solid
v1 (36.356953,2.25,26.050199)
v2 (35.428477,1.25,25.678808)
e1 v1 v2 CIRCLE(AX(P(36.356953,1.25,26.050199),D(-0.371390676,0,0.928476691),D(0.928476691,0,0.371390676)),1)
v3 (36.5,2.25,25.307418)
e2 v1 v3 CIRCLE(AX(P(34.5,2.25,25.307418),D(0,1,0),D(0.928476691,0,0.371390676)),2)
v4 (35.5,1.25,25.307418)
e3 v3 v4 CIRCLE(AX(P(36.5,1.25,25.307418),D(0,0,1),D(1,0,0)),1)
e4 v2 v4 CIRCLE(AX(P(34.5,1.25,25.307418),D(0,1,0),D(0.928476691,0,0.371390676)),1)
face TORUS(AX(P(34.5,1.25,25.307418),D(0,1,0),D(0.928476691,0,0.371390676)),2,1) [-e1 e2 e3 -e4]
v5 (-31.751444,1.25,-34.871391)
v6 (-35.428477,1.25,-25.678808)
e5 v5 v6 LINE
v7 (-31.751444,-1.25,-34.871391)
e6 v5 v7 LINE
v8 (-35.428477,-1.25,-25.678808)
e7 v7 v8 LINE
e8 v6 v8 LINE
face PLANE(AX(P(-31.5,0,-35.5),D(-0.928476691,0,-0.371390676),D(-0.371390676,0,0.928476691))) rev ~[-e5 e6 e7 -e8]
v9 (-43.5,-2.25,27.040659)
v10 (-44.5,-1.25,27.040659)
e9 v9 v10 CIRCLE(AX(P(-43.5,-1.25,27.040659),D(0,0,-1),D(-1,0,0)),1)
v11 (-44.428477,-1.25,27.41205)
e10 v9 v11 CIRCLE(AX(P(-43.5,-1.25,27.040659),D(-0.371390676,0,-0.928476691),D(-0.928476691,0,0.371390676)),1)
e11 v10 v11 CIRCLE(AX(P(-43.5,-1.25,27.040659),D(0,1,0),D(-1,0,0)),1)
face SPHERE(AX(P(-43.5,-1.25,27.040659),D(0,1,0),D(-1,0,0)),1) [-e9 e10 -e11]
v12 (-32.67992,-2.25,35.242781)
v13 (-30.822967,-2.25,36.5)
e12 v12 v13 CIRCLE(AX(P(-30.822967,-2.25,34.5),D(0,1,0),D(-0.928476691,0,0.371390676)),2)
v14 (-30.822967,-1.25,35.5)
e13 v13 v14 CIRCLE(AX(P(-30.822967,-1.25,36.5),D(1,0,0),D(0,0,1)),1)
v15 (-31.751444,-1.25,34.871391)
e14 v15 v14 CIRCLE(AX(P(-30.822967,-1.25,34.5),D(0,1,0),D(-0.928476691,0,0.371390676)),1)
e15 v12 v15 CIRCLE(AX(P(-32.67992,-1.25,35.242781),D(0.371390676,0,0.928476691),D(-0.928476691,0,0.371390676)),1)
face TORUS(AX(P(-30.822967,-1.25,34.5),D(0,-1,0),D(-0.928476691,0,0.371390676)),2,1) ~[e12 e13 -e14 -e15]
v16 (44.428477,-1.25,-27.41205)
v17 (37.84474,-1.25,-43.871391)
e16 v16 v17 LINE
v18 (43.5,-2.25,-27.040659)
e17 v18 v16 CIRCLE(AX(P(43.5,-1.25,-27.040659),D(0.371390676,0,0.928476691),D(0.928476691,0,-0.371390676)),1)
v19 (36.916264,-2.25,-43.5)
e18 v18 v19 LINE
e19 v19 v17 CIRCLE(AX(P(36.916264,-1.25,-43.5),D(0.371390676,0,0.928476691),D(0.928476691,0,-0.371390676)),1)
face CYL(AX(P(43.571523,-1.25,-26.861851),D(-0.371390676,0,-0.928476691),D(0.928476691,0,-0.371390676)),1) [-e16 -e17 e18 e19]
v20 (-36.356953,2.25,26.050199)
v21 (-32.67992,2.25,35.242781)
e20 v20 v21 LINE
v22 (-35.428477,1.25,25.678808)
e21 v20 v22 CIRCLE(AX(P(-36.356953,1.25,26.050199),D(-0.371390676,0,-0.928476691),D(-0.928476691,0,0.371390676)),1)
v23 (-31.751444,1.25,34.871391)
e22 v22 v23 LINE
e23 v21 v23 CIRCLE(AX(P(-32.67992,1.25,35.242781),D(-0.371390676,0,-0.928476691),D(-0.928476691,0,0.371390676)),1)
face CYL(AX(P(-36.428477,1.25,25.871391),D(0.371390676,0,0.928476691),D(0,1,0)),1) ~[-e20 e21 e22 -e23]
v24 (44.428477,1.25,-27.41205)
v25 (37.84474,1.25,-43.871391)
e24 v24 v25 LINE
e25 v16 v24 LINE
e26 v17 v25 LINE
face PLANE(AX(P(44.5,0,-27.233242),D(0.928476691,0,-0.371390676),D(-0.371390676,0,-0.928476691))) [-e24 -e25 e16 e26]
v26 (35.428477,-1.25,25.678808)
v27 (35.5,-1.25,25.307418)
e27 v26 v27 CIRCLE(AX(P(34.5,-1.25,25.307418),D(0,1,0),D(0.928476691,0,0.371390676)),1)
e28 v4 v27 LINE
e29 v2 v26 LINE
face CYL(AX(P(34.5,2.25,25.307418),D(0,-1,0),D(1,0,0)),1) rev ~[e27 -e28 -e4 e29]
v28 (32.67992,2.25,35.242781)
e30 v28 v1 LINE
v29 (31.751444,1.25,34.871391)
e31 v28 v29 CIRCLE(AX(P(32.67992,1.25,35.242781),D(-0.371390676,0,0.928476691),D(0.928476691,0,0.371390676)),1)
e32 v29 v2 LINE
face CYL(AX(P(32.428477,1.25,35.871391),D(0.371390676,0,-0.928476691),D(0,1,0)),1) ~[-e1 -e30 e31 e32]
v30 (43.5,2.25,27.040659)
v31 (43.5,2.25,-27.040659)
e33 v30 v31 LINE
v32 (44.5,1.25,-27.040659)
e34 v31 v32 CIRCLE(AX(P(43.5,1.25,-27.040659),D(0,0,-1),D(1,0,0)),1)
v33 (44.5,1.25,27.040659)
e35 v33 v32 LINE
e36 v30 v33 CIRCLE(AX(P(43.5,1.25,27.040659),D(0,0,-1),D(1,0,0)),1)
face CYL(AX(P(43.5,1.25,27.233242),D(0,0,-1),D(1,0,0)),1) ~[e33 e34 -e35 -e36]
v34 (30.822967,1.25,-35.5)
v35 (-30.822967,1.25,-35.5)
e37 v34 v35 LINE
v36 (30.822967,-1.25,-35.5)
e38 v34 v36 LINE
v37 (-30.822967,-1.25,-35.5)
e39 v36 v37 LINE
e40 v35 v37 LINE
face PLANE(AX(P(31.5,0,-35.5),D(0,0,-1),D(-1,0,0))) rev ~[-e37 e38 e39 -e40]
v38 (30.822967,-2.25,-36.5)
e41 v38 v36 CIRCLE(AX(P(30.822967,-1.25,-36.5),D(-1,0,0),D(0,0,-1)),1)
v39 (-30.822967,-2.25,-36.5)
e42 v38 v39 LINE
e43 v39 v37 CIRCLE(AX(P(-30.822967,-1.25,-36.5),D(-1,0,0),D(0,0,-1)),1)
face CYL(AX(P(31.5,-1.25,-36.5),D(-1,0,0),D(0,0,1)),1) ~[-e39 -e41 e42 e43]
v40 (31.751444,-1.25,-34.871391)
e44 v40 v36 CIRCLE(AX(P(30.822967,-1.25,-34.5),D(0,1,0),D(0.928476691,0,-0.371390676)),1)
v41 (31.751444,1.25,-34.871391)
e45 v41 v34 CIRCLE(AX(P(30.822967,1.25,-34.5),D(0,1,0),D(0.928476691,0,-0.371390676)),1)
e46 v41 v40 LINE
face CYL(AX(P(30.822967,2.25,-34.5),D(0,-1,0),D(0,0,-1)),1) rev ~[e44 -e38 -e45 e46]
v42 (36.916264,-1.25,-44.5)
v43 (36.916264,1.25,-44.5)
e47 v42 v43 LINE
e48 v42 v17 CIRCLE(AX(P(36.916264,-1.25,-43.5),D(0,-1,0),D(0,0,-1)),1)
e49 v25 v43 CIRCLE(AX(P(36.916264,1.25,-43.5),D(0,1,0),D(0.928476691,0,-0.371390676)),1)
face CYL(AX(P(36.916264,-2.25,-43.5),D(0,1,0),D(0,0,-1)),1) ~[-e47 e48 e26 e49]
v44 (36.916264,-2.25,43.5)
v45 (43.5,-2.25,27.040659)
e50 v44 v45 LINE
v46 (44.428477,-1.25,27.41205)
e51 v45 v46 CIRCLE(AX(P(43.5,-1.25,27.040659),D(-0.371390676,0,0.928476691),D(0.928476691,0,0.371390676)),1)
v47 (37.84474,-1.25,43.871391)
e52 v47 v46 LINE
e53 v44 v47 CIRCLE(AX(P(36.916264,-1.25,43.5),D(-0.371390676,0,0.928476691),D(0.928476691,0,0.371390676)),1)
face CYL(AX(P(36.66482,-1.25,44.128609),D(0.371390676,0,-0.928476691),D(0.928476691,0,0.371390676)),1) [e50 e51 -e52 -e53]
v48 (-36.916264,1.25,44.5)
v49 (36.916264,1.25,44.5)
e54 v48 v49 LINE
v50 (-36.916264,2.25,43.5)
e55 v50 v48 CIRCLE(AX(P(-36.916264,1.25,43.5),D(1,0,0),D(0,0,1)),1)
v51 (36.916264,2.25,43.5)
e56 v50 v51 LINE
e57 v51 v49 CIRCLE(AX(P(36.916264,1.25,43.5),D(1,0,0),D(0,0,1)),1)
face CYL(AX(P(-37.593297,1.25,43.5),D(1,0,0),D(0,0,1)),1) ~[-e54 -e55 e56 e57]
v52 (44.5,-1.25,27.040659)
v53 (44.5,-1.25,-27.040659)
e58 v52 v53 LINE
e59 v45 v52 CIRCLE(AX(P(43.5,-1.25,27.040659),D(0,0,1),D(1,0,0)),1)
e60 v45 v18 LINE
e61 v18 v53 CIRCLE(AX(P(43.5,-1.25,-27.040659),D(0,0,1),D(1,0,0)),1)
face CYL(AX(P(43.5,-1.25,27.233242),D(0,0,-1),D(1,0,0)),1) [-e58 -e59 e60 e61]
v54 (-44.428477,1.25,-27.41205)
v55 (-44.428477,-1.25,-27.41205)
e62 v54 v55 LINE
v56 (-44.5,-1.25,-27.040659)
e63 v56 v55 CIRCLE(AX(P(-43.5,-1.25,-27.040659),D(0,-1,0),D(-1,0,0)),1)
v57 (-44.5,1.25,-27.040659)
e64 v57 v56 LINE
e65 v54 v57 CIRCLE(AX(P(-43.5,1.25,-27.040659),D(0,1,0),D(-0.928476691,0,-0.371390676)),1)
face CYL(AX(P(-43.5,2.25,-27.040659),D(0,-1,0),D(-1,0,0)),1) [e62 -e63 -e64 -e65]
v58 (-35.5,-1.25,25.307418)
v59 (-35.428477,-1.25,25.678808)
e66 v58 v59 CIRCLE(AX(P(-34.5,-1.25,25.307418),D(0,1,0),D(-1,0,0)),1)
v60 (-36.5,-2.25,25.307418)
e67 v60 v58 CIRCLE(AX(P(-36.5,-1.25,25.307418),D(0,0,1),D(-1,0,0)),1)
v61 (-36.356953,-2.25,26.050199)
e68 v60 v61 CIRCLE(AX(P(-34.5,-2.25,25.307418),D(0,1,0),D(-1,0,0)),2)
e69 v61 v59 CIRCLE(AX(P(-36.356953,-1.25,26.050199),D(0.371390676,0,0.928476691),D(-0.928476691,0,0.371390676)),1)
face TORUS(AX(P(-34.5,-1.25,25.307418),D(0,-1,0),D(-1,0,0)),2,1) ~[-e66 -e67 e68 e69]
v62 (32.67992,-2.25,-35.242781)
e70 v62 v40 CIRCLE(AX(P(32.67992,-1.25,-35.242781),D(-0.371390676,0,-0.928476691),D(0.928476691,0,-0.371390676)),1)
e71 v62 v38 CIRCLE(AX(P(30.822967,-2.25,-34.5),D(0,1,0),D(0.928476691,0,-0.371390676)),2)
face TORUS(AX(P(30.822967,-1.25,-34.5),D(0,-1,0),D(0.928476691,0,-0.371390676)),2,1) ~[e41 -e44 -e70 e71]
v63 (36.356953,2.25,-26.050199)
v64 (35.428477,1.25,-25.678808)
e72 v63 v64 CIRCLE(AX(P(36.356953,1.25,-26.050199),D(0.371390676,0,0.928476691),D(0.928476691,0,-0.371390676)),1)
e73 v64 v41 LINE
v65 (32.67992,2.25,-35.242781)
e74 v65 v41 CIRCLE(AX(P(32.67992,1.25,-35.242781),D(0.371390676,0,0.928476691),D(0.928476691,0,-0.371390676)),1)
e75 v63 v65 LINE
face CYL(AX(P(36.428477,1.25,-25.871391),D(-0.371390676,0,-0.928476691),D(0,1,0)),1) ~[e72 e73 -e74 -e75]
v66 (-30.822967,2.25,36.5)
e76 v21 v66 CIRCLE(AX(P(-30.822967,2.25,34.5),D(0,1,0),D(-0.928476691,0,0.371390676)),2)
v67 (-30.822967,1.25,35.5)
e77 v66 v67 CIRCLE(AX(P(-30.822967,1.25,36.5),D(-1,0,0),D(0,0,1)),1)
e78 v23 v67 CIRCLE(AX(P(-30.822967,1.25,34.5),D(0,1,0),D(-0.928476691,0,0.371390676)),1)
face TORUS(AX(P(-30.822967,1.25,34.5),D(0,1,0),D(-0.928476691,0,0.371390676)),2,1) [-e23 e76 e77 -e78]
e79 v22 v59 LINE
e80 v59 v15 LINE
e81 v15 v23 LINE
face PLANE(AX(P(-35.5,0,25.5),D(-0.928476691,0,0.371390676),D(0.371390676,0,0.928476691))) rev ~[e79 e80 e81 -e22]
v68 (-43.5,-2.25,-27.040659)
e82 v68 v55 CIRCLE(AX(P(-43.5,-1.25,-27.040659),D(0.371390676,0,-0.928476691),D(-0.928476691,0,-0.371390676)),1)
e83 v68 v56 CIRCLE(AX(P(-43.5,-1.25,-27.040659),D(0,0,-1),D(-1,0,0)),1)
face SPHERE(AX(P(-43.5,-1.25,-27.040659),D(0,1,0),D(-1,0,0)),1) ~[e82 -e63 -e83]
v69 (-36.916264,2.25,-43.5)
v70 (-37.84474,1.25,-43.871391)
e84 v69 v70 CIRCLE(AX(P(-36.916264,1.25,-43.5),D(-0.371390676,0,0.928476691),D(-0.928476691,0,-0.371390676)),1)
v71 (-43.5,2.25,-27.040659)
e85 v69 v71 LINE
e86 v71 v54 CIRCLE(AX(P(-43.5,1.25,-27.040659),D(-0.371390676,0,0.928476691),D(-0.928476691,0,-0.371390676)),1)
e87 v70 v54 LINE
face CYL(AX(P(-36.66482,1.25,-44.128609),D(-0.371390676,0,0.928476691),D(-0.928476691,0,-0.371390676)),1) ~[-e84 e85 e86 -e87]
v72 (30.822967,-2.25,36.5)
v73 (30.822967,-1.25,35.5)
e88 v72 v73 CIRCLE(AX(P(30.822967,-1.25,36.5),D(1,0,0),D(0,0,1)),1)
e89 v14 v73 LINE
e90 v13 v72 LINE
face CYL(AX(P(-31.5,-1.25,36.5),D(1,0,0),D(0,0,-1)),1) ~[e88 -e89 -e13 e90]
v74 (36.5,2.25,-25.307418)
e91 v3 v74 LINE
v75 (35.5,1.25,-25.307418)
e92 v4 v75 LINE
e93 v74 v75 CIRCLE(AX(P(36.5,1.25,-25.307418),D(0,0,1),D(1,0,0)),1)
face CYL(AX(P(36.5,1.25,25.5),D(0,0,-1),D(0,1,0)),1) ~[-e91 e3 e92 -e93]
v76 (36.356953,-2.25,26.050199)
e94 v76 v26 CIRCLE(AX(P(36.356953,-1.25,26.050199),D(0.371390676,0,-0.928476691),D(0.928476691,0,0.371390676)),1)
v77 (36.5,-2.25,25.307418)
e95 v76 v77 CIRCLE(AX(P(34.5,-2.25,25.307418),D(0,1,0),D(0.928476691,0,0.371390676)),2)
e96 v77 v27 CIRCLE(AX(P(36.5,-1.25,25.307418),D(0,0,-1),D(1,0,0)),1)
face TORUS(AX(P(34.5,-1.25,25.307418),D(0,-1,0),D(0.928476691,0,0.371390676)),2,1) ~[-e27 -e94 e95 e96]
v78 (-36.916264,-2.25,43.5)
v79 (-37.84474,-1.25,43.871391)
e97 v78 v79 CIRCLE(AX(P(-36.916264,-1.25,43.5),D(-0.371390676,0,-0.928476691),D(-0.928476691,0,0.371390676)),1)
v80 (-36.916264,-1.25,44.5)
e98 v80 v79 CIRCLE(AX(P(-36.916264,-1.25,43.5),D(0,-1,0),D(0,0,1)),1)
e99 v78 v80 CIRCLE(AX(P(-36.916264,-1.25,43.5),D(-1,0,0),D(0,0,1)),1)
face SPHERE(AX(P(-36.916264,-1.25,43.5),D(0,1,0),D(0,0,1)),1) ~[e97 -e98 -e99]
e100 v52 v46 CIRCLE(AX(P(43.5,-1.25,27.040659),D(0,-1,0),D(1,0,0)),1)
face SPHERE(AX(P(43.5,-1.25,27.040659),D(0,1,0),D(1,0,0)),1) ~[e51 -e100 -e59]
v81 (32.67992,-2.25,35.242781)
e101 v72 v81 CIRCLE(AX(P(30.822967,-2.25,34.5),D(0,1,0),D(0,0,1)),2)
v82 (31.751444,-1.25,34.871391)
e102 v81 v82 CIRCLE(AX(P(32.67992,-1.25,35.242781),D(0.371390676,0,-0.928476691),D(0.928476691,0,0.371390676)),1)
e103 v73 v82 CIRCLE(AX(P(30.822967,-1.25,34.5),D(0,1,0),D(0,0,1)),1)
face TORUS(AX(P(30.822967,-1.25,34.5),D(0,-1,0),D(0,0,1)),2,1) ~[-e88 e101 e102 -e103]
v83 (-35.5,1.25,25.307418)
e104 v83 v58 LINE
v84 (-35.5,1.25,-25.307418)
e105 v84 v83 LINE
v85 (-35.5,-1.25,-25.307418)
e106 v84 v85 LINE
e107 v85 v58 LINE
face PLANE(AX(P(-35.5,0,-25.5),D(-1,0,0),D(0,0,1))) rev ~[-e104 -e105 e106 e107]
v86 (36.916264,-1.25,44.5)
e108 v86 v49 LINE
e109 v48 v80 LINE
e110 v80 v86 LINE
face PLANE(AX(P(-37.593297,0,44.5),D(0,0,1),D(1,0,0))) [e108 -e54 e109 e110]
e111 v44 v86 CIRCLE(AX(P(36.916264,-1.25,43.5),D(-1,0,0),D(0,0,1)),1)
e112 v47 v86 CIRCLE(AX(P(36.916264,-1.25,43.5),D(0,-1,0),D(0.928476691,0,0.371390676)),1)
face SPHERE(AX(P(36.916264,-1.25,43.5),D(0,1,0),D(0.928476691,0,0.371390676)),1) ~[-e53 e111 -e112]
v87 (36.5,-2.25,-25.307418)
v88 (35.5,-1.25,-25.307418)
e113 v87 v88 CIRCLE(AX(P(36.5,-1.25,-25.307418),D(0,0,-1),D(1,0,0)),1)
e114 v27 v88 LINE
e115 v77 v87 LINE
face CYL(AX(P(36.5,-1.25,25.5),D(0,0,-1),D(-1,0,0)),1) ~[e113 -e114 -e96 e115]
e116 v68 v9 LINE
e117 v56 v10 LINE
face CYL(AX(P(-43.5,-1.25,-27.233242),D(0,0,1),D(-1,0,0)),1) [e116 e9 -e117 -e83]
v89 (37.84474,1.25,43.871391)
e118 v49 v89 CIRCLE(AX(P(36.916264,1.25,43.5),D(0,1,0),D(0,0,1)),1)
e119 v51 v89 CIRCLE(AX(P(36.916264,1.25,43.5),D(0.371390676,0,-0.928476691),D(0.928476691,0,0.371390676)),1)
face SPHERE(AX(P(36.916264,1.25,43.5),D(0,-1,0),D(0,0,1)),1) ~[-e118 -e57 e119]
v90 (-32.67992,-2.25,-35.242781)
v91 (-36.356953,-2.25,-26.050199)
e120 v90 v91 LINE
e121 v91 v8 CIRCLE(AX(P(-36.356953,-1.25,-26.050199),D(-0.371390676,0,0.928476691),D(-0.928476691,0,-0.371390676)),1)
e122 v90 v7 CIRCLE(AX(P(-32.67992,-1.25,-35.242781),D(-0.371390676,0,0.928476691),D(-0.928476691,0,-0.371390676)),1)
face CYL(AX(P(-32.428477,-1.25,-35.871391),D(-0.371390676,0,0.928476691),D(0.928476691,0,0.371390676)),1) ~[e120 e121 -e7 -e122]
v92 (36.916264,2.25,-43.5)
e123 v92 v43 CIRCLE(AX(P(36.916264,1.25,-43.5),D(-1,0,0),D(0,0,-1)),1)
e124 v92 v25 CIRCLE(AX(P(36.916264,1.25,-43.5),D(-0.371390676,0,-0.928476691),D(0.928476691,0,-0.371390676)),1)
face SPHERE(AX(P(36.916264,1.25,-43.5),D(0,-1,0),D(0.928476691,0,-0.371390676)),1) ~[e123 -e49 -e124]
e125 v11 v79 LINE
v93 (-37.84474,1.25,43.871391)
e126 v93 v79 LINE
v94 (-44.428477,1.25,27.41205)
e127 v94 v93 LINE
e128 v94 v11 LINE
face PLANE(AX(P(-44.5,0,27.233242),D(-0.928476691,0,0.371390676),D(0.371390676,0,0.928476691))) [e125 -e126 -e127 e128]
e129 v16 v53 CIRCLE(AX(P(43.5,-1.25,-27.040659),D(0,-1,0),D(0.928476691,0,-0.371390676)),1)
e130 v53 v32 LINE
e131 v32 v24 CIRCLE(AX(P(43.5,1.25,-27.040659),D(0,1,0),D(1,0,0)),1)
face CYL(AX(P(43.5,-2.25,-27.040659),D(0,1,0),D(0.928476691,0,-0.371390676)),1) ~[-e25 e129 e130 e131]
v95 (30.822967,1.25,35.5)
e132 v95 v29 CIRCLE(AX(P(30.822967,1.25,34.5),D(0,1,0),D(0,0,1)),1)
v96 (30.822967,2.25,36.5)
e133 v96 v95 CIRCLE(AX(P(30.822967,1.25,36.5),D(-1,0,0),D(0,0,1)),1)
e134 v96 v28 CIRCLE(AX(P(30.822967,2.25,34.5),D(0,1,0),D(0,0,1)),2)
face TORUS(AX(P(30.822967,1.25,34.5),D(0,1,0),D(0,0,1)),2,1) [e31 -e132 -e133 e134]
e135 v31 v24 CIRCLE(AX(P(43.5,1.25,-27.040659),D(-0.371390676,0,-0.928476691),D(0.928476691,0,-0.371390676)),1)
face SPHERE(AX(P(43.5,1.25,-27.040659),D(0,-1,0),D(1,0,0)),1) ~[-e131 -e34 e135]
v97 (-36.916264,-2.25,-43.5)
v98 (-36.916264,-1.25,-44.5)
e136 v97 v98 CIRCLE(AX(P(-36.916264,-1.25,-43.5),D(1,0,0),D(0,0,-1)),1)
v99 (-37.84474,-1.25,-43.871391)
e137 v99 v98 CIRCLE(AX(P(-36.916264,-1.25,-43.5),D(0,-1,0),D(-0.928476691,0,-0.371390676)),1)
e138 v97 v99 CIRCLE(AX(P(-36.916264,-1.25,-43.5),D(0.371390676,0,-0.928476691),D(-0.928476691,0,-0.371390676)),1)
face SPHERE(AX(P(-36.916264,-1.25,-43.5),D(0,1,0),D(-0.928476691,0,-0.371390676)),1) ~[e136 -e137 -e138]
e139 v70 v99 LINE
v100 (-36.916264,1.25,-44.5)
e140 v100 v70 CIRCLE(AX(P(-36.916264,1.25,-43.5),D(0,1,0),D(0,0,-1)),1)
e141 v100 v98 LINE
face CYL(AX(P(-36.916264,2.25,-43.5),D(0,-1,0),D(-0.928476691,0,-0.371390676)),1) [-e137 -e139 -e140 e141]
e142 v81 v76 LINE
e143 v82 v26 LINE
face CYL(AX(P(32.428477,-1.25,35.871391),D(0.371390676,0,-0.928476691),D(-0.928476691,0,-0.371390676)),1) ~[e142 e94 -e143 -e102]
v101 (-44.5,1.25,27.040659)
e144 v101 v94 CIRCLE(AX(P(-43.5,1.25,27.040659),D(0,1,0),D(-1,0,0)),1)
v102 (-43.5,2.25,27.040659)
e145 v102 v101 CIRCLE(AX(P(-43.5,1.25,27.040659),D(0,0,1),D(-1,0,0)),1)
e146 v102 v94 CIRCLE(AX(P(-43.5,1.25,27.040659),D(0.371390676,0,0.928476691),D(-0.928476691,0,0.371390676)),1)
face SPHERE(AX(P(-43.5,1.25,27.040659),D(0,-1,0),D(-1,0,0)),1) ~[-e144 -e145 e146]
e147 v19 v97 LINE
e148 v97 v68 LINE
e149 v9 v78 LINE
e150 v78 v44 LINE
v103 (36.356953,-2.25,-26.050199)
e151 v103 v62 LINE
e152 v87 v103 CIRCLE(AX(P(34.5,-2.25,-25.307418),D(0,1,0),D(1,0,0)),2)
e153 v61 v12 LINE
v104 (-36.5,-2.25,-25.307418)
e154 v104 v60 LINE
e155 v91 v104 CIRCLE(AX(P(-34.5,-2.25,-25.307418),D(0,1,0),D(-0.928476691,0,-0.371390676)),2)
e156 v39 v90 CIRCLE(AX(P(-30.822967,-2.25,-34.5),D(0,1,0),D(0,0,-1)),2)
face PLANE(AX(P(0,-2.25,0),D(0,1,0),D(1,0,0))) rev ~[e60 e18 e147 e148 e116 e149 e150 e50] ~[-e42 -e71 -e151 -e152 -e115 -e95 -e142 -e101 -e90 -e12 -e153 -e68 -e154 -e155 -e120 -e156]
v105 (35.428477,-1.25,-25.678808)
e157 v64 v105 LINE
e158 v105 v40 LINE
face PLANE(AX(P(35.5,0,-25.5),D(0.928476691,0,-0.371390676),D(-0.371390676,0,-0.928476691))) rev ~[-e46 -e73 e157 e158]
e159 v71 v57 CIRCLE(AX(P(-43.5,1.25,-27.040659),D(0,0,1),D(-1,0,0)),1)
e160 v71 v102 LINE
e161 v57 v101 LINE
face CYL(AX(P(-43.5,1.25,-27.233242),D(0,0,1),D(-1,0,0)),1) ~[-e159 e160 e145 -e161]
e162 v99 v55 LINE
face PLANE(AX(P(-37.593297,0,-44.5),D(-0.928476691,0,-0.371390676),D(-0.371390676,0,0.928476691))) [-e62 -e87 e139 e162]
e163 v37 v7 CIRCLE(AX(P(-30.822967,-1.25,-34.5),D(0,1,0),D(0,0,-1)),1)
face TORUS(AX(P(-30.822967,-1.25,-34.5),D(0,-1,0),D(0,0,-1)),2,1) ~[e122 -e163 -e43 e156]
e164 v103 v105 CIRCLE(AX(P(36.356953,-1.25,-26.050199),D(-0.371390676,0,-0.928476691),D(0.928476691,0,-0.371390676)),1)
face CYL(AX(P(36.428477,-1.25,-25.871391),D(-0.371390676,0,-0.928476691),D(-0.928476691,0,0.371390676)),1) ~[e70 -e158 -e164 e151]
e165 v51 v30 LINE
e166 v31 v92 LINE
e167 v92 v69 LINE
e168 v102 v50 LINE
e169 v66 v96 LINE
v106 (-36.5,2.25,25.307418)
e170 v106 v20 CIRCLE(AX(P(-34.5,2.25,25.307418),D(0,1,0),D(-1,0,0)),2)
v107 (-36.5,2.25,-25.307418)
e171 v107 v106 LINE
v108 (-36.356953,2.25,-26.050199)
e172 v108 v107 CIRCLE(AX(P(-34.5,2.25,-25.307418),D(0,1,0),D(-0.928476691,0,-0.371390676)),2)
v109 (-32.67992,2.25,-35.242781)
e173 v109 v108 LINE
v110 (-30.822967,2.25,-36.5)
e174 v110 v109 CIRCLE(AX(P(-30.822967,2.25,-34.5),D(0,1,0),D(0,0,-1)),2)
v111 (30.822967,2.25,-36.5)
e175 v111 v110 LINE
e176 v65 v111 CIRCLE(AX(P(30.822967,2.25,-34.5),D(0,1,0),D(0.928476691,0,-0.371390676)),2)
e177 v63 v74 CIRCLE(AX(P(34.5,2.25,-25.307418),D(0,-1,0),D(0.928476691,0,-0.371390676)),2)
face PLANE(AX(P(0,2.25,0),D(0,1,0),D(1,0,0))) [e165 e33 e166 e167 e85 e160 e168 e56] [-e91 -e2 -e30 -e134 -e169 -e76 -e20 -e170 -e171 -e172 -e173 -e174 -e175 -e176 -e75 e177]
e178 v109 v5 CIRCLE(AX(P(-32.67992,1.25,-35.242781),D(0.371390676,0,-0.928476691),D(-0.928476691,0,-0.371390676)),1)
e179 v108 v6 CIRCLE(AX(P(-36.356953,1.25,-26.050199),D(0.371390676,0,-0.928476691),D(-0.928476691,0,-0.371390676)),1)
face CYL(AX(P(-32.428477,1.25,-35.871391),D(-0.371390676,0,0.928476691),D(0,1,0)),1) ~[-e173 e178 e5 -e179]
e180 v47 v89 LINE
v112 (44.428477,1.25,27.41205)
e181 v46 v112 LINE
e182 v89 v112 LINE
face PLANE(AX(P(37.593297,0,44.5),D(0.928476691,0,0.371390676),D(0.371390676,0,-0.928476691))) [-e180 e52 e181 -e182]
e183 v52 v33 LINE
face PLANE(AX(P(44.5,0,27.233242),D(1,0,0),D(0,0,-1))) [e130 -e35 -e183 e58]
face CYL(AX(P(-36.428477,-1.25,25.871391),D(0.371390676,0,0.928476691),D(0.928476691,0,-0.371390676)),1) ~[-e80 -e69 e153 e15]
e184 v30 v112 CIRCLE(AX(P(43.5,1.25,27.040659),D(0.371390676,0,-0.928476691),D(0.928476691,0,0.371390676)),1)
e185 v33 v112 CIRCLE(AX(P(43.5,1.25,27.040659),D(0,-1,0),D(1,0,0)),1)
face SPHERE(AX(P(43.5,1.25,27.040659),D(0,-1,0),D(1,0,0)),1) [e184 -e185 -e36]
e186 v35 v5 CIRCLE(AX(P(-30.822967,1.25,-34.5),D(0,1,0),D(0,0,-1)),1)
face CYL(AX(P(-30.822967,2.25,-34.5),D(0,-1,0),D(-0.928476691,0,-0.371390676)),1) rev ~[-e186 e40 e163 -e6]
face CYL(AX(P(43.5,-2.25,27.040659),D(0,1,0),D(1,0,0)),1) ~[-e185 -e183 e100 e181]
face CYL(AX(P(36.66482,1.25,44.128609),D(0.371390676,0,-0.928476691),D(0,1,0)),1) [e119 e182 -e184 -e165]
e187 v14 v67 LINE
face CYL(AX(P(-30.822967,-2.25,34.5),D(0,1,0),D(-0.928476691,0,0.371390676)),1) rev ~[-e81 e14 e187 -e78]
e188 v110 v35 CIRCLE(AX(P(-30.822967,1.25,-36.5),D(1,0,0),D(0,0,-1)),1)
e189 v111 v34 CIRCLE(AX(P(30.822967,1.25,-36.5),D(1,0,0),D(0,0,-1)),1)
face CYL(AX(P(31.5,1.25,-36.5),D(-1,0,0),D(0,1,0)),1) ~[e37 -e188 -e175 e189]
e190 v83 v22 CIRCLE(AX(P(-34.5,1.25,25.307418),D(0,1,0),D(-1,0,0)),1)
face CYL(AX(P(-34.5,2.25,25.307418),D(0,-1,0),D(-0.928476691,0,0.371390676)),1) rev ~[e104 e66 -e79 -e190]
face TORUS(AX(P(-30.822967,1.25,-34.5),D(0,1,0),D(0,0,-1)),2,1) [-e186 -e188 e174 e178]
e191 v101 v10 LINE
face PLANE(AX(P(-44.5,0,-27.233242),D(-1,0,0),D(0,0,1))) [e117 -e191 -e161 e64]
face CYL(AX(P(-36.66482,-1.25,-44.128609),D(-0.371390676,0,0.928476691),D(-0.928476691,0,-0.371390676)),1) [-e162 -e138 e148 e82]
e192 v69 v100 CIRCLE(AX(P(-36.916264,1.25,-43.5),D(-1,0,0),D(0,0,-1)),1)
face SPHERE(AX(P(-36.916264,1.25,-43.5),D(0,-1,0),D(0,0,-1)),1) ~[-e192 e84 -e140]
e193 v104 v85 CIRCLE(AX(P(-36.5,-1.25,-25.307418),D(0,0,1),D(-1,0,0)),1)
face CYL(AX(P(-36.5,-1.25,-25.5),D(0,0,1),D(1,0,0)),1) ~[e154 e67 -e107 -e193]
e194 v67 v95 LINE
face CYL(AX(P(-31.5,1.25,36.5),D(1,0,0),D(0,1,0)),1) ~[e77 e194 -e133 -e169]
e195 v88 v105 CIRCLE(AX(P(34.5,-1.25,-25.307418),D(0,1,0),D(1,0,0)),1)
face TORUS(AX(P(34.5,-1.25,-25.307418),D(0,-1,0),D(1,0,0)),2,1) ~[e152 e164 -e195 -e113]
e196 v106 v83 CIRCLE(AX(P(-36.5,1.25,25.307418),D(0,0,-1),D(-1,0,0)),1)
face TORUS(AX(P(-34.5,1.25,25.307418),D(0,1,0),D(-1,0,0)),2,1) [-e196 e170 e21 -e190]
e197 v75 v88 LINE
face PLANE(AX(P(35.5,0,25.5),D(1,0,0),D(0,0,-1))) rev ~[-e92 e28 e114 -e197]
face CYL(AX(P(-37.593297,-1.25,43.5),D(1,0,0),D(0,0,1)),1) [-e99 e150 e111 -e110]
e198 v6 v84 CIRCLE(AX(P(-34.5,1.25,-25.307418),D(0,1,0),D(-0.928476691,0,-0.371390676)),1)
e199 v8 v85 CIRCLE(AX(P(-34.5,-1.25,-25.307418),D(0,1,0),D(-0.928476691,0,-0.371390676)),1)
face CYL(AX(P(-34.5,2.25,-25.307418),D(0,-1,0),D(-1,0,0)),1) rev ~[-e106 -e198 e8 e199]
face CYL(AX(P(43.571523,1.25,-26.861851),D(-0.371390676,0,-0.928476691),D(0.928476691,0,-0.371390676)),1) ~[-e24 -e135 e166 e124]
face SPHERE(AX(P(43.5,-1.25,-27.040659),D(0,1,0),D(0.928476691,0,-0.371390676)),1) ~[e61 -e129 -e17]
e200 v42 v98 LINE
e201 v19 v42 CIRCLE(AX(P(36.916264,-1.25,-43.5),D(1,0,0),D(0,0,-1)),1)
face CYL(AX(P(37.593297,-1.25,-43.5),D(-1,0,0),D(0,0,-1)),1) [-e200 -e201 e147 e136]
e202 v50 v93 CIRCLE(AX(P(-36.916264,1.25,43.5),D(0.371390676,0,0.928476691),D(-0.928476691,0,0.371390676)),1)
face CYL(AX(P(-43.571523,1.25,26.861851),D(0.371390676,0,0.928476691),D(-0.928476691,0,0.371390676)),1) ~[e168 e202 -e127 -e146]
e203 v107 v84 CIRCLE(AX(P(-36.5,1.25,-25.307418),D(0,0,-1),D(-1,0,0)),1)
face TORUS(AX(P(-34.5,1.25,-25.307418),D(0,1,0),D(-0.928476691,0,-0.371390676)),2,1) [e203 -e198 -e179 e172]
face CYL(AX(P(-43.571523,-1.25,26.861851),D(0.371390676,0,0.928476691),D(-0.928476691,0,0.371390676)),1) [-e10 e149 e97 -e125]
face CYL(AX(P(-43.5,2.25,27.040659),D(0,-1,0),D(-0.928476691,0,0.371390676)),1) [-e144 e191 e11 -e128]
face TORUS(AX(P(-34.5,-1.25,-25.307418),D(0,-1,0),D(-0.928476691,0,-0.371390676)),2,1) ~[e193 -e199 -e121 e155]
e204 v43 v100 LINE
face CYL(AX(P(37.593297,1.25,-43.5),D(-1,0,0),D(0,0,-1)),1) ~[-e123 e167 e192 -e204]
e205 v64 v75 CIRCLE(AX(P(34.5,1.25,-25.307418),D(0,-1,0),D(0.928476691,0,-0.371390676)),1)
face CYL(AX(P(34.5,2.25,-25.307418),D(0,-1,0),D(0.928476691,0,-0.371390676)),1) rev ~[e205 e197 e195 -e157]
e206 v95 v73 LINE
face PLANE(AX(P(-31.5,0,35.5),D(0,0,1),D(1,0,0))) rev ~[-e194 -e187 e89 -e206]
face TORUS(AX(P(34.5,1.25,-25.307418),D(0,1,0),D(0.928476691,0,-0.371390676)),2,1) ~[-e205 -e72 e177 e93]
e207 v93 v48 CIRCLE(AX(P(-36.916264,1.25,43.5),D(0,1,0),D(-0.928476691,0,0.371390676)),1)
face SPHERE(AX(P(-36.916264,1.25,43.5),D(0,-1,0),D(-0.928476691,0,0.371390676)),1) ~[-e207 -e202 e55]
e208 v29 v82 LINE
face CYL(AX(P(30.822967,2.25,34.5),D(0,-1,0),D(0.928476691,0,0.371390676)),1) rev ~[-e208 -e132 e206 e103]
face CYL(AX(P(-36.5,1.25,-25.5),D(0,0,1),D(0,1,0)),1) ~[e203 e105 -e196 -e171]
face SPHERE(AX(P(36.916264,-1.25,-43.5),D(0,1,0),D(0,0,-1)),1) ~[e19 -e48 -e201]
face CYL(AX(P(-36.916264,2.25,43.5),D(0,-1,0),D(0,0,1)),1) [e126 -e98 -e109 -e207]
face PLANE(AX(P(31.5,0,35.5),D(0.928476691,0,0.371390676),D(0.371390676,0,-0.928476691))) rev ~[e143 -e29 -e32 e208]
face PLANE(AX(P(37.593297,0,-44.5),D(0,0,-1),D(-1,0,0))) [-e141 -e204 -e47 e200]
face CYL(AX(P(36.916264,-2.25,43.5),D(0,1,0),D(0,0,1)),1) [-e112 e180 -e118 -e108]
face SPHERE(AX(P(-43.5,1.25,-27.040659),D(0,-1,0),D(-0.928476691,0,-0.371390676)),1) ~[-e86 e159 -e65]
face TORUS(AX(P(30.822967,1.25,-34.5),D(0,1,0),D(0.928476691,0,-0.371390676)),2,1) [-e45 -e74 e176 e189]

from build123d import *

# Parameters (mm, degrees)
BOSS_EXTRUDE1_DEPTH = 2.25
FILLET1_R           = 1


with BuildPart() as part:
    # Sketch1 → Boss-Extrude1 (new body, symmetric)
    with BuildSketch(Plane(origin=(0, 0, 0), x_dir=(1, 0, 0), z_dir=(0, 1, 0))):
        Polygon((-37.593296653, -44.5), (37.593296653, -44.5), (44.5, -27.233241632), (44.5, 27.233241632), (37.593296653, 44.5), (-37.593296653, 44.5), (-44.5, 27.233241632), (-44.5, -27.233241632), align=None)
        Polygon((-31.5, -35.5), (31.5, -35.5), (35.5, -25.5), (35.5, 25.5), (31.5, 35.5), (-31.5, 35.5), (-35.5, 25.5), (-35.5, -25.5), align=None, mode=Mode.SUBTRACT)
    extrude(amount=BOSS_EXTRUDE1_DEPTH, both=True)

    # Fillet1
    fillet1_edges = [part.edges().sort_by_distance(p)[0] for p in [
        (44.5, -2.25, 0),
        (41.046648326, -2.25, 35.866620816),
        (0, -2.25, 44.5),
        (-41.046648326, -2.25, 35.866620816),
        (41.046648326, 2.25, 35.866620816),
        (-44.5, 0, 27.233241632),
        (-44.5, 0, -27.233241632),
        (-37.593296653, 0, -44.5),
        (37.593296653, 0, -44.5),
        (44.5, 0, -27.233241632),
        (44.5, 0, 27.233241632),
        (37.593296653, 0, 44.5),
        (-37.593296653, 0, 44.5),
        (44.5, 2.25, 0),
        (41.046648326, 2.25, -35.866620816),
        (0, 2.25, -44.5),
        (33.5, -2.25, -30.5),
        (35.5, 0, -25.5),
        (0, -2.25, -35.5),
        (31.5, 0, -35.5),
        (-33.5, -2.25, -30.5),
        (-31.5, 0, -35.5),
        (-35.5, -2.25, 0),
        (-41.046648326, 2.25, -35.866620816),
        (-35.5, 0, -25.5),
        (-33.5, -2.25, 30.5),
        (-35.5, 0, 25.5),
        (0, -2.25, 35.5),
        (-31.5, 0, 35.5),
        (33.5, -2.25, 30.5),
        (31.5, 0, 35.5),
        (35.5, -2.25, 0),
        (35.5, 0, 25.5),
        (33.5, 2.25, -30.5),
        (0, 2.25, -35.5),
        (-33.5, 2.25, -30.5),
        (-35.5, 2.25, 0),
        (-33.5, 2.25, 30.5),
        (0, 2.25, 35.5),
        (33.5, 2.25, 30.5),
        (-44.5, 2.25, 0),
        (35.5, 2.25, 0),
        (-41.046648326, 2.25, 35.866620816),
        (-44.5, -2.25, 0),
        (0, 2.25, 44.5),
        (-41.046648326, -2.25, -35.866620816),
        (0, -2.25, -44.5),
        (41.046648326, -2.25, -35.866620816),
    ]]
    fillet(fillet1_edges, radius=FILLET1_R)


solid = part.part
